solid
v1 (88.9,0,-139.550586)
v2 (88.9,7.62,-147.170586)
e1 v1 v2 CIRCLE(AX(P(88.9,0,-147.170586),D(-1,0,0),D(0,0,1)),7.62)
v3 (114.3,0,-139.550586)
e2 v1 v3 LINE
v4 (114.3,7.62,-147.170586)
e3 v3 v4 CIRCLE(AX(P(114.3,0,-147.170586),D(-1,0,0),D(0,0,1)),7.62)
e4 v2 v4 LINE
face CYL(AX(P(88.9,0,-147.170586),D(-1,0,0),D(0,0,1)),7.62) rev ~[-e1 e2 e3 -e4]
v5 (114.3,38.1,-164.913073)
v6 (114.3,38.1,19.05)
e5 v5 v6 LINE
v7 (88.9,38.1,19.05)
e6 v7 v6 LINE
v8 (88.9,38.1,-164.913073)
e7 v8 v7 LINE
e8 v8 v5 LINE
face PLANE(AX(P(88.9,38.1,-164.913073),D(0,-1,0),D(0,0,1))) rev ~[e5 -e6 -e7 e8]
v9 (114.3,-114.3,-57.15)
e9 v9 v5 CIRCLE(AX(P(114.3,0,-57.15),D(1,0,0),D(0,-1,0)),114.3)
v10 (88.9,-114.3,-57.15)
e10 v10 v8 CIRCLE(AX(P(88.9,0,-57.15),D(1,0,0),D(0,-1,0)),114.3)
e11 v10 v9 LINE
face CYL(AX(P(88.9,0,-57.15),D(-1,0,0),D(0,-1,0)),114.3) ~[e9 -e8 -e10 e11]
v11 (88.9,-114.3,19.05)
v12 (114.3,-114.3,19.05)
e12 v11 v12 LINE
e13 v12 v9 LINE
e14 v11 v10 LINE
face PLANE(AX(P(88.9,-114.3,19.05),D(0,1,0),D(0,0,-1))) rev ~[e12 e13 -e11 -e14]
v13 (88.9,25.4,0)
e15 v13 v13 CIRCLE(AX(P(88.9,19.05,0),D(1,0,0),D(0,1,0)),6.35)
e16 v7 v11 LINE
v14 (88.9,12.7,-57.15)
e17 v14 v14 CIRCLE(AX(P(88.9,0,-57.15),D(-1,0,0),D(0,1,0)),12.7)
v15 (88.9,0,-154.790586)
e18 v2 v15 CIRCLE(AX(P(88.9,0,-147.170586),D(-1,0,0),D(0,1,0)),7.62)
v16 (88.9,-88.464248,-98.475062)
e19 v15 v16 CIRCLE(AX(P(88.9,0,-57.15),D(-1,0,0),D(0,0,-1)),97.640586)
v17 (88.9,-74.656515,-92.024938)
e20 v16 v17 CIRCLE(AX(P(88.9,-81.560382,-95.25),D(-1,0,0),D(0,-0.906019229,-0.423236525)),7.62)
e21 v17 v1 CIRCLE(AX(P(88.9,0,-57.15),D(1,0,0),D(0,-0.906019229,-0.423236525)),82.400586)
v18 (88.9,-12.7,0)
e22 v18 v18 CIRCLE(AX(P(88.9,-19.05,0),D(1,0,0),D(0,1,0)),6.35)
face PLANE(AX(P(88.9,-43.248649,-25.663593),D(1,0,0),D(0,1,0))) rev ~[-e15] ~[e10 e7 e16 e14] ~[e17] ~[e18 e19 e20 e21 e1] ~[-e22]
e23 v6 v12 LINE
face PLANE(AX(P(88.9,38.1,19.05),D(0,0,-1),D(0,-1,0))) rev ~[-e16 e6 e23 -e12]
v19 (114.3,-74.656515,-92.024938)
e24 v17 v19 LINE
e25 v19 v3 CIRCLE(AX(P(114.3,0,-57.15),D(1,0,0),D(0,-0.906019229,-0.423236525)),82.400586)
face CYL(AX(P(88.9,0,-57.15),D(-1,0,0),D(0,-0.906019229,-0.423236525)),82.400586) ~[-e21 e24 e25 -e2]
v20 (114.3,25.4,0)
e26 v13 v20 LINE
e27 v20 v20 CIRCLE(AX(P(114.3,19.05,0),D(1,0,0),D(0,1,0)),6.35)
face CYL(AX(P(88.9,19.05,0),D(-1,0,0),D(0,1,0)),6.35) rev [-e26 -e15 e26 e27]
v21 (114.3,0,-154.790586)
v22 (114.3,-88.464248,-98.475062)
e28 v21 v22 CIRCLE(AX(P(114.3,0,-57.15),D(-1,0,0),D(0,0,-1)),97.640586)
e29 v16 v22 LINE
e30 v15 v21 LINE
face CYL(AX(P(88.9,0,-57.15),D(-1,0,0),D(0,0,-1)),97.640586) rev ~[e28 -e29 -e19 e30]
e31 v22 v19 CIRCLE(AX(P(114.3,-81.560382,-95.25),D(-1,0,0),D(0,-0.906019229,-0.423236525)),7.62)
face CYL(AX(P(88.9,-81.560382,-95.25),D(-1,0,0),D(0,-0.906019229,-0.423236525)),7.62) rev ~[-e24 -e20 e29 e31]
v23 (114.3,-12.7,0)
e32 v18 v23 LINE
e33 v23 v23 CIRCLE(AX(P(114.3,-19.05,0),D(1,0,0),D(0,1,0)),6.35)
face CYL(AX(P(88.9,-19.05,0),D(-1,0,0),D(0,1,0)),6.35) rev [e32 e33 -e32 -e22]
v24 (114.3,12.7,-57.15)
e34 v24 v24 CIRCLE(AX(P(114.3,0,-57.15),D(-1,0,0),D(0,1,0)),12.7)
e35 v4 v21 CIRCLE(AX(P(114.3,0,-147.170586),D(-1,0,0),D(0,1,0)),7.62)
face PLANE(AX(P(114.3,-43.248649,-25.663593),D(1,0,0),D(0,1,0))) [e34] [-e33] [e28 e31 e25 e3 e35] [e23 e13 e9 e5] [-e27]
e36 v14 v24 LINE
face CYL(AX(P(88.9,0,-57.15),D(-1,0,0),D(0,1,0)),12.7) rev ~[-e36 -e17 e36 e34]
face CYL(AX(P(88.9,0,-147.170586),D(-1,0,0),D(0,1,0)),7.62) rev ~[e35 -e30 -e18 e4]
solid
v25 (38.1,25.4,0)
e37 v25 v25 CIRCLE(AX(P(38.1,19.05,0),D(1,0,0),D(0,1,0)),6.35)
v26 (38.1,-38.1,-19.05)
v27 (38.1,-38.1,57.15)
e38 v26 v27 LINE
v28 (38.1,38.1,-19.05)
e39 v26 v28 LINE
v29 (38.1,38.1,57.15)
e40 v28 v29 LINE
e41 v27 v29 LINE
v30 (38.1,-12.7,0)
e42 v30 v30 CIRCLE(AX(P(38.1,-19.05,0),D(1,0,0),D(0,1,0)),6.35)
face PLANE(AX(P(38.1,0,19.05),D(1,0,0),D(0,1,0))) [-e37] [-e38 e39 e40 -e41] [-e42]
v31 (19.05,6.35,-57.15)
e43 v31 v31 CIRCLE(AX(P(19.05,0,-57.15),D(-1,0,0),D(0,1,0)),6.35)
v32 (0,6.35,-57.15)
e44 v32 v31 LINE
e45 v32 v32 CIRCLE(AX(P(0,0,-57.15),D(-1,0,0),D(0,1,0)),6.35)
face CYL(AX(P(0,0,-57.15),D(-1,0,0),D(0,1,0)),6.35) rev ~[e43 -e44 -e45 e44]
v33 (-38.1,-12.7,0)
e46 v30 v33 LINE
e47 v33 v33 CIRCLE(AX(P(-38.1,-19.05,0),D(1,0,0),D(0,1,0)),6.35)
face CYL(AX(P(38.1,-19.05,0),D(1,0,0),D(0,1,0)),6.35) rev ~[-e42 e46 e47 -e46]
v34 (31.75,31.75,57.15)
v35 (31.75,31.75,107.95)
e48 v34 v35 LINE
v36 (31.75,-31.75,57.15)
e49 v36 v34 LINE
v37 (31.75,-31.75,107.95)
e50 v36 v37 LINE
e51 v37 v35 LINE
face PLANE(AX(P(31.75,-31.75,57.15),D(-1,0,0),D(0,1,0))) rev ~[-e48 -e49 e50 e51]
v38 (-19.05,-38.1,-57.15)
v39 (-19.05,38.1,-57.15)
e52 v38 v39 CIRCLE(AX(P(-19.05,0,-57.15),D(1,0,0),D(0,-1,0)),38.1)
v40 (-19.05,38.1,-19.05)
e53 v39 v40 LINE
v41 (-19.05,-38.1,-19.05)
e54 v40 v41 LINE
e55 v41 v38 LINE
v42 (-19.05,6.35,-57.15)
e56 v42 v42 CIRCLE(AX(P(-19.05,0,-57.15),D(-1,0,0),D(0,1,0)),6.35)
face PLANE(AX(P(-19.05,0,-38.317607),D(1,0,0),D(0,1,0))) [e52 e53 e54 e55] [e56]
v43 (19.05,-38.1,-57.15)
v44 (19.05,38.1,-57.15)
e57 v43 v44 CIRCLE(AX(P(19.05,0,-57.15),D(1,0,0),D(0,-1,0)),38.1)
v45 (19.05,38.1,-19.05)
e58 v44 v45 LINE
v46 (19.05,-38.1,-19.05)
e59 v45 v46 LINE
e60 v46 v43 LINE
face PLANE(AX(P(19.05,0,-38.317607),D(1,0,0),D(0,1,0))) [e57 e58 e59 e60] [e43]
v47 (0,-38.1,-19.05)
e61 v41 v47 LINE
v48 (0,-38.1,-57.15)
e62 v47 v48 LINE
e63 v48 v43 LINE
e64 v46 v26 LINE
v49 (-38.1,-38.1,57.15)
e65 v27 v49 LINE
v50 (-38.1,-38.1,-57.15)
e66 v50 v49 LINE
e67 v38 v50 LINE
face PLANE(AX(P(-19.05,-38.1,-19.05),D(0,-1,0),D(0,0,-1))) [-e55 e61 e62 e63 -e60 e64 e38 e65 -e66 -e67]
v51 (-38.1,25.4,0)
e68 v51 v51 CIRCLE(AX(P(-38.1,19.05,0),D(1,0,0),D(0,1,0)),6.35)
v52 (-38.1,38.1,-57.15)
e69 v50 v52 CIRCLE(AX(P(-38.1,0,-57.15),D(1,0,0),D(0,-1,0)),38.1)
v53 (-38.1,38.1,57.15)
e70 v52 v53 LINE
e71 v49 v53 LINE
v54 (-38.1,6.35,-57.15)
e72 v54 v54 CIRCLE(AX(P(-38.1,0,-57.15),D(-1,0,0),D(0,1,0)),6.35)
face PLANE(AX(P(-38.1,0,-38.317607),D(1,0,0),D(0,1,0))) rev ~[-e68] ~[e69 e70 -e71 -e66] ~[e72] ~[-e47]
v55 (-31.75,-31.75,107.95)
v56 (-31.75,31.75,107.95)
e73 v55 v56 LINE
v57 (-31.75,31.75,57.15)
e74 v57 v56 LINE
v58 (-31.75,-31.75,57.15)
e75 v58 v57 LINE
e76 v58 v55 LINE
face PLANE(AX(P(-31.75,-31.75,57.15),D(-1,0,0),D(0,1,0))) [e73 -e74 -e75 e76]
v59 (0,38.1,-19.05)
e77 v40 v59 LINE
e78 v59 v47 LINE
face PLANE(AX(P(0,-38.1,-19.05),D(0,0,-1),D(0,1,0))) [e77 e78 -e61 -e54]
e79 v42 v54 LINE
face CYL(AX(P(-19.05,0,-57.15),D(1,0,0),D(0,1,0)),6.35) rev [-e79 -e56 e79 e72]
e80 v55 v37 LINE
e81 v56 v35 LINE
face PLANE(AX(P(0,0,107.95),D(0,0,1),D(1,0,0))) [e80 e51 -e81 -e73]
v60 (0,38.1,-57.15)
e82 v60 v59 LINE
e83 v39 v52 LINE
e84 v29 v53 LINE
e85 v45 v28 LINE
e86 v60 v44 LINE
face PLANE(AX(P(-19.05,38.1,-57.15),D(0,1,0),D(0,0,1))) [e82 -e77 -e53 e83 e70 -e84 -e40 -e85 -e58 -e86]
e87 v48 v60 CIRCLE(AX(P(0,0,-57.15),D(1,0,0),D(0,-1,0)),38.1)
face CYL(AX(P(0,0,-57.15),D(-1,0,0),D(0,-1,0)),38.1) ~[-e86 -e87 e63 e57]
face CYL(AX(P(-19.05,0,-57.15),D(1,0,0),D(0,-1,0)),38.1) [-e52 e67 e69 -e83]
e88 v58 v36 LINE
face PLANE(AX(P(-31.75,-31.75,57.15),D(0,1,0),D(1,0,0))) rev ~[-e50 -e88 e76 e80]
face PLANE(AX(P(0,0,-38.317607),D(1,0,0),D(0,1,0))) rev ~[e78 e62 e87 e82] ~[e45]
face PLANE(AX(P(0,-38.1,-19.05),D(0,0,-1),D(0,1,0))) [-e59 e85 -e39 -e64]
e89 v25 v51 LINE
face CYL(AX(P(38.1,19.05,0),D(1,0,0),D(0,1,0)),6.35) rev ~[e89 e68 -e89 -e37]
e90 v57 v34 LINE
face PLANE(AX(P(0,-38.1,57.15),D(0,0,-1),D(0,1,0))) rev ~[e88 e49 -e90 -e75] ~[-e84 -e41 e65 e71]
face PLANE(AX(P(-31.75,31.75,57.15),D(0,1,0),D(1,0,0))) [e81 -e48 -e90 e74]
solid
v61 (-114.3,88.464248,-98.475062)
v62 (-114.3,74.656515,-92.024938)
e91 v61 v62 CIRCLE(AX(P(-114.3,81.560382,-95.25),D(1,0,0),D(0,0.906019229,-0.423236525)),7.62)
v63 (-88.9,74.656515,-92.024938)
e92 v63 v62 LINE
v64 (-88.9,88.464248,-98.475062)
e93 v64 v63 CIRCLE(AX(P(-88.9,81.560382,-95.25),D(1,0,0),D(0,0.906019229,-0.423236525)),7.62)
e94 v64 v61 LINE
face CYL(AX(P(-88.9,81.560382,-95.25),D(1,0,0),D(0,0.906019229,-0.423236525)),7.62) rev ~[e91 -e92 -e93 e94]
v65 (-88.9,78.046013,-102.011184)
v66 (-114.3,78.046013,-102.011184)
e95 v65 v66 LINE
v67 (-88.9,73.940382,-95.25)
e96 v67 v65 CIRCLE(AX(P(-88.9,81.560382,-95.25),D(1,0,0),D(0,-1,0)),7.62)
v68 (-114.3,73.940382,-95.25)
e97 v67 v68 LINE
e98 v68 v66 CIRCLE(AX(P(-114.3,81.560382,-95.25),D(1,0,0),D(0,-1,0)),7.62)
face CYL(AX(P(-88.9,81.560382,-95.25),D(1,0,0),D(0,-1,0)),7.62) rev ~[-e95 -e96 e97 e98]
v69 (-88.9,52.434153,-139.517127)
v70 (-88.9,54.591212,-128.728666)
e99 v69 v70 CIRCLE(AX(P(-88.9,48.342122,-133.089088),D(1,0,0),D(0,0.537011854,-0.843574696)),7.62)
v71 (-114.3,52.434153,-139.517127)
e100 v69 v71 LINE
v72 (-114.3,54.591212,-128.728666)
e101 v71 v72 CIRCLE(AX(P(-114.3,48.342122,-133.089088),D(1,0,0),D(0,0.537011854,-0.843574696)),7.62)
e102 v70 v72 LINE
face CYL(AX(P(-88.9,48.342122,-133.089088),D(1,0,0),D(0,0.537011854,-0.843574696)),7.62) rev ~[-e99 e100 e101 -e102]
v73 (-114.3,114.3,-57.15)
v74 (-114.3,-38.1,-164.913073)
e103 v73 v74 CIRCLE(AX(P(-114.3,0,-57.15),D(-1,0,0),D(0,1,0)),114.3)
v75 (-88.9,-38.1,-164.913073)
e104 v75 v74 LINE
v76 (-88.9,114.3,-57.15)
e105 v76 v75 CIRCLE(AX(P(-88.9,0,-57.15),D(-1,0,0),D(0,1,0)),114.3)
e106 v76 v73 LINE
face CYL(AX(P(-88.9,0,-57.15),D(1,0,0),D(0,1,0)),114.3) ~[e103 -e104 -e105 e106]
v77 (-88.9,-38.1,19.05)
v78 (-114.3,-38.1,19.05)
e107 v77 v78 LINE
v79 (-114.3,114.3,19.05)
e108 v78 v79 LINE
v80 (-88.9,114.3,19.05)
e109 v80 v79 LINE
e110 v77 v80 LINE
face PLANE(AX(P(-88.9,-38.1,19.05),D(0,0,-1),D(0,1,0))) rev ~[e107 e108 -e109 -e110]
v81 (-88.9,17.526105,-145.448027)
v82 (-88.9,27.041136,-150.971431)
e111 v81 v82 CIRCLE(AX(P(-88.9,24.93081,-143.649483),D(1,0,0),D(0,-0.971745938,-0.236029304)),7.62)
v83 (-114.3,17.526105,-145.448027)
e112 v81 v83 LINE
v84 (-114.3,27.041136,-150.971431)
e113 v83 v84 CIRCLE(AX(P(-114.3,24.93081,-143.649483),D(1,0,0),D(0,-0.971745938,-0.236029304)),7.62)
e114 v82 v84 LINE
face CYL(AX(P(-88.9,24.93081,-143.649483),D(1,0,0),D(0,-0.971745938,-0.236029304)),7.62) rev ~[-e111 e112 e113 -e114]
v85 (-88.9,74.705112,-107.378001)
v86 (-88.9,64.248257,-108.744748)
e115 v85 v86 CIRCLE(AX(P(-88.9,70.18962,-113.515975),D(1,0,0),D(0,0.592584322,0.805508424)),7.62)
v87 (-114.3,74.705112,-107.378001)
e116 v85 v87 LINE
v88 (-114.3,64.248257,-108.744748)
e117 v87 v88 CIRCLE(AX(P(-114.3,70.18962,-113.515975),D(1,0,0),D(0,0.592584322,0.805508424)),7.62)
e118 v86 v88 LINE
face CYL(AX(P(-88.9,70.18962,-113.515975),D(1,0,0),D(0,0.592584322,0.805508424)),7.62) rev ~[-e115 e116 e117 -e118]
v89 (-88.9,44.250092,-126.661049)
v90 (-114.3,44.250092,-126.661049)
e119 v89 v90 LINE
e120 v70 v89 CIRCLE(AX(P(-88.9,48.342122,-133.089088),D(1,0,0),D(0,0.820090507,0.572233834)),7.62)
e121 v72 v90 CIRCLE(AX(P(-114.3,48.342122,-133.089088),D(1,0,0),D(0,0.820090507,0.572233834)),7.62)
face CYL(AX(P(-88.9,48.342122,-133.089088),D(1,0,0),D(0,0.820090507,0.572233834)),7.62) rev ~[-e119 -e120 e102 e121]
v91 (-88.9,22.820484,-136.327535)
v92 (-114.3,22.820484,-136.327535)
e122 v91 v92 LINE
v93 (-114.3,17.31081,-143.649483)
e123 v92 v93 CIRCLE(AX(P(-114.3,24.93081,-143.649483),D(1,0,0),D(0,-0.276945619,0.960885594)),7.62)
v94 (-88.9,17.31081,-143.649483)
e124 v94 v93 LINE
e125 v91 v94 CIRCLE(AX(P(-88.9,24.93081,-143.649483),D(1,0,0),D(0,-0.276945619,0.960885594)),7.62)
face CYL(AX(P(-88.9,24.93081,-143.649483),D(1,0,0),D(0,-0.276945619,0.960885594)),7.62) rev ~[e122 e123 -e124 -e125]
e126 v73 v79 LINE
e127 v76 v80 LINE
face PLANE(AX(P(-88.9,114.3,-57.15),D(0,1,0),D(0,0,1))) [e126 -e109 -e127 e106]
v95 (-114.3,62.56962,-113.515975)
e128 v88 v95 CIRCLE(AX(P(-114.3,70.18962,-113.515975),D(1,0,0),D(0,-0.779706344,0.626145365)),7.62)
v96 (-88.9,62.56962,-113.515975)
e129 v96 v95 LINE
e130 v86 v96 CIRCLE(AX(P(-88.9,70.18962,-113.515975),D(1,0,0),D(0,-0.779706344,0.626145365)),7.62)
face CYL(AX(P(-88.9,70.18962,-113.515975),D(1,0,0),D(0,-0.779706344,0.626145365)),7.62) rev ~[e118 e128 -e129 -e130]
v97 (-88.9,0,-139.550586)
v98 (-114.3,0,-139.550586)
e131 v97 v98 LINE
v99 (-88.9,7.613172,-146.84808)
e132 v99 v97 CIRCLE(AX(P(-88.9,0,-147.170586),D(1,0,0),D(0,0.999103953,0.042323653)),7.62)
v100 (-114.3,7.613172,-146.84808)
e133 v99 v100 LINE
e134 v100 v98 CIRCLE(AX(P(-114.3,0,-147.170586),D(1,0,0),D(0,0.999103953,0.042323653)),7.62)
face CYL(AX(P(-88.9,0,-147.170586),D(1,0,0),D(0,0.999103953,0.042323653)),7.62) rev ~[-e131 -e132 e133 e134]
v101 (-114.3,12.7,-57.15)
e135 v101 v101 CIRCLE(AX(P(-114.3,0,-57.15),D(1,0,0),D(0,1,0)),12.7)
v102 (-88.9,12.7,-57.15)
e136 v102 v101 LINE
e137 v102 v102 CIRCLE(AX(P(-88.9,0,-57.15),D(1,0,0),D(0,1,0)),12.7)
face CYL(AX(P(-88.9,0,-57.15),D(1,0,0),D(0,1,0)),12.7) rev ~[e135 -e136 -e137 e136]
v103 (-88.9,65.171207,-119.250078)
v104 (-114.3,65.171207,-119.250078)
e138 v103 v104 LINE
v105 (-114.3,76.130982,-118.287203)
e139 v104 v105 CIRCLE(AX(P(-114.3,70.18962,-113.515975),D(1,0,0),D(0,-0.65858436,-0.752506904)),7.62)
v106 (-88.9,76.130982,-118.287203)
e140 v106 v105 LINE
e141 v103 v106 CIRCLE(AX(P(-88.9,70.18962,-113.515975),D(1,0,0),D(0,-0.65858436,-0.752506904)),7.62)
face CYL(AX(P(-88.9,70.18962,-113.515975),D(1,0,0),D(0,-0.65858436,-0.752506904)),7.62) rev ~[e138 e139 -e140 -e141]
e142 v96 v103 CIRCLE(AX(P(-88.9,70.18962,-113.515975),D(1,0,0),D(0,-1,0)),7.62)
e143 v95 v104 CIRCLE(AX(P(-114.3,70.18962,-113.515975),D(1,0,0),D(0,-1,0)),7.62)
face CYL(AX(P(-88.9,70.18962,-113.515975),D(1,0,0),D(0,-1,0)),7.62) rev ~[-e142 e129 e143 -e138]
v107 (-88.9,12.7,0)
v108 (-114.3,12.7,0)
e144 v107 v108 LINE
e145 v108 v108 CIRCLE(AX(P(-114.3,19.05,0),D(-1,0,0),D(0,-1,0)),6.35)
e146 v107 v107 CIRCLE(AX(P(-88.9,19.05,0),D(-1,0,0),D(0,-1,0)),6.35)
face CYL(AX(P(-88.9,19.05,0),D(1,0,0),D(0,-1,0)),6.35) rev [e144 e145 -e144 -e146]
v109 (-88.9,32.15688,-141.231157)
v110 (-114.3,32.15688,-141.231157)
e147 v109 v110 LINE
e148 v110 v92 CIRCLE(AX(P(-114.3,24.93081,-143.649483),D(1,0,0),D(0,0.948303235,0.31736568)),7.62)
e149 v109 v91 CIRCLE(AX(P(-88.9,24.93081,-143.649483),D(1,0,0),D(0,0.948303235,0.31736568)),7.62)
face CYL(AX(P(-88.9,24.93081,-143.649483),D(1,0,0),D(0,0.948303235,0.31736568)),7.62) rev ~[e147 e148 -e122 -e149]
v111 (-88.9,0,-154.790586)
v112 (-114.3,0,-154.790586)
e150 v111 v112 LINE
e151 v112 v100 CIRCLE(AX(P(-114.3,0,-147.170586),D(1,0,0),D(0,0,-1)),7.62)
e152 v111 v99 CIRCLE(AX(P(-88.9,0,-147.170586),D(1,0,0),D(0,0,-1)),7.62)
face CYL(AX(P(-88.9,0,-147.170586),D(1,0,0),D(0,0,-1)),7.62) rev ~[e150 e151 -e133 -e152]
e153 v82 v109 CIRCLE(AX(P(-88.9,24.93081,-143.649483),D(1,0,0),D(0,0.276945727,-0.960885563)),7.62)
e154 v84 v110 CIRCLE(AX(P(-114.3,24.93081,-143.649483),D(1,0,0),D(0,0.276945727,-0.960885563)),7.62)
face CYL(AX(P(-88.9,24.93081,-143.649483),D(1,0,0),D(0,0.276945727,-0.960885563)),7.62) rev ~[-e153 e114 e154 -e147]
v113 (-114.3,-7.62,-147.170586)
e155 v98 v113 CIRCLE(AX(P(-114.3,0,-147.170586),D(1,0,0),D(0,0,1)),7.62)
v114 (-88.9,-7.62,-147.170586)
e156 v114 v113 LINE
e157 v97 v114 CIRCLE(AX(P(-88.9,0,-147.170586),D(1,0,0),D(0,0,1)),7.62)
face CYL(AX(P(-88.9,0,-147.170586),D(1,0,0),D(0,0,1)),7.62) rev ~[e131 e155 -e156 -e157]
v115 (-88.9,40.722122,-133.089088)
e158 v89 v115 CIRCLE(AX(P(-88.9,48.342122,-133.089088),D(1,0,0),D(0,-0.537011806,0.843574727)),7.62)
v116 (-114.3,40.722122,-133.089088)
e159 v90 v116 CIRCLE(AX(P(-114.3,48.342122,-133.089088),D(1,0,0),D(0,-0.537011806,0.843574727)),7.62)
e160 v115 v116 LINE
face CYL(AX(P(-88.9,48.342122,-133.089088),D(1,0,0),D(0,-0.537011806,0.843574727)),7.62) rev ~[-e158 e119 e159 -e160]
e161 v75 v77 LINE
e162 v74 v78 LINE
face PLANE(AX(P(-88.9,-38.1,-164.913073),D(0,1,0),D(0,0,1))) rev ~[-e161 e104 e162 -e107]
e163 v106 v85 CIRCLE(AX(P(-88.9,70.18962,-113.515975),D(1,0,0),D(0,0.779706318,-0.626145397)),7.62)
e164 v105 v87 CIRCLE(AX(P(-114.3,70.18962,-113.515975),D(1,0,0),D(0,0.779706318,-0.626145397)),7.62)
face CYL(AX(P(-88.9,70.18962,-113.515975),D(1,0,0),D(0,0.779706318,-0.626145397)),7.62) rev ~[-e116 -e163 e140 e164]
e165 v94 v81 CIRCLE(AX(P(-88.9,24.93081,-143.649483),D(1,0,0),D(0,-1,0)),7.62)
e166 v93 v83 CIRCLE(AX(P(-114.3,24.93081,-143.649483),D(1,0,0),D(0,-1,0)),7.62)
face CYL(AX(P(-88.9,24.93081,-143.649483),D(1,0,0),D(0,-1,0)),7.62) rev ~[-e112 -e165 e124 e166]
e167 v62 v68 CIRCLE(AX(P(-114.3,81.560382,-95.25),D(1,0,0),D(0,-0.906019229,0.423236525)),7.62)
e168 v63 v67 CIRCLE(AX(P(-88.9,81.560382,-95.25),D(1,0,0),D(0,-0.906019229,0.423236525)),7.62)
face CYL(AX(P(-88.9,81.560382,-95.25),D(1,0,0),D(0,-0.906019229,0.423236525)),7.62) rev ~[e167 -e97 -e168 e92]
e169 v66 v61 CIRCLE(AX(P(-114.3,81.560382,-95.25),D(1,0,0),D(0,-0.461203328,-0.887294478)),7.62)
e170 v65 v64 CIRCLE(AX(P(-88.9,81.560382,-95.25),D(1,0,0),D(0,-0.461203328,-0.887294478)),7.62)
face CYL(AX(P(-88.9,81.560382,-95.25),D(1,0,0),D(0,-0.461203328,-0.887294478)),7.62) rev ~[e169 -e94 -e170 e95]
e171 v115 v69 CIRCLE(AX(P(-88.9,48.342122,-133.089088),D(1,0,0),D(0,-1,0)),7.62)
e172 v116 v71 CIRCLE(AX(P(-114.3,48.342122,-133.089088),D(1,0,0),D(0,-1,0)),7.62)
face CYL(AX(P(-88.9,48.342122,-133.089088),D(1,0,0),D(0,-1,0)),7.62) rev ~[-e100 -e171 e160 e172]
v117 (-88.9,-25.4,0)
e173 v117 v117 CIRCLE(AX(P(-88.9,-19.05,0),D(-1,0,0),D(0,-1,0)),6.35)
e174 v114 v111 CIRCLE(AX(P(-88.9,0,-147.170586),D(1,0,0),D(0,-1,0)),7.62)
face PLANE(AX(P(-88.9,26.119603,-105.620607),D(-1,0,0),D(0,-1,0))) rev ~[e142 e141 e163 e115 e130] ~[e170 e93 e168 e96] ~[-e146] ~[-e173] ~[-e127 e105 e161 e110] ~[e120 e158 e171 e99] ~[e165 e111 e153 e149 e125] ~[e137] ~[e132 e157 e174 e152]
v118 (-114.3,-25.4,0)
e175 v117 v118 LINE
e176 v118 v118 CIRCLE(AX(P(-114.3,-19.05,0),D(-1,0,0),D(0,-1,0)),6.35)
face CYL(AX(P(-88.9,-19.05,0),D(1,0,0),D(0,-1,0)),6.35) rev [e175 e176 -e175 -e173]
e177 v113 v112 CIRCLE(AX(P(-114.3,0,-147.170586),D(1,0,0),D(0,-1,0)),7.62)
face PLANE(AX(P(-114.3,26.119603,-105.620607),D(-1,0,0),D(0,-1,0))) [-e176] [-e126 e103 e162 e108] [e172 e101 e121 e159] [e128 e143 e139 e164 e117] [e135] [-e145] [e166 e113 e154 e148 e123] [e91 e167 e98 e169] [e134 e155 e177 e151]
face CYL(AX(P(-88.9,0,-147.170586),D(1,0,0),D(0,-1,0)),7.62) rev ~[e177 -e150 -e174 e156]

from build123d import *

# Parameters (mm, degrees)
F0_W      = 76.2
F0_H      = 76.2
F1_DEPTH  = 38.1
F2_DEPTH  = 19.05
F3_START  = -19.05
F3_DEPTH  = 19.05
F4_W      = 63.5
F4_H      = 63.5
F5_DEPTH  = 50.8
F7_START  = 50.8
F6_W      = 76.2
F6_H      = 38.1
F6_R      = 6.35
F7_DEPTH  = 25.4
F8_DEPTH  = 76.2
F10_START = 50.8
F9_W      = 76.2
F9_H      = 76.2
F9_R      = 6.35
F10_DEPTH = 25.4


with BuildPart() as f1:
    # F0 (on Right) → F1 (new body, symmetric)
    with BuildSketch(Plane.YZ):
        with Locations((0, 19.05)):
            Rectangle(F0_W, F0_H)
    extrude(amount=F1_DEPTH, both=True)

    # F0 (on Right) → F2 (join)
    with BuildSketch(Plane.YZ):
        with BuildLine():
            Line((6.35, -57.15), (38.1, -57.15))
            Line((38.1, -57.15), (38.1, -19.05))
            Line((38.1, -19.05), (-38.1, -19.05))
            Line((-38.1, -19.05), (-38.1, -57.15))
            Line((-38.1, -57.15), (-6.35, -57.15))
            ThreePointArc((-6.35, -57.15), (0, -50.8), (6.35, -57.15))
        make_face()
        with BuildLine():
            ThreePointArc((-38.1, -57.15), (0, -95.25), (38.1, -57.15))
            Line((38.1, -57.15), (6.35, -57.15))
            ThreePointArc((6.35, -57.15), (0, -63.5), (-6.35, -57.15))
            Line((-6.35, -57.15), (-38.1, -57.15))
        make_face()
    extrude(amount=F2_DEPTH)

    # F0 (on Right) → F3 (join)
    with BuildSketch(Plane.YZ.offset(F3_START)):
        with BuildLine():
            Line((6.35, -57.15), (38.1, -57.15))
            Line((38.1, -57.15), (38.1, -19.05))
            Line((38.1, -19.05), (-38.1, -19.05))
            Line((-38.1, -19.05), (-38.1, -57.15))
            Line((-38.1, -57.15), (-6.35, -57.15))
            ThreePointArc((-6.35, -57.15), (0, -50.8), (6.35, -57.15))
        make_face()
        with BuildLine():
            ThreePointArc((-38.1, -57.15), (0, -95.25), (38.1, -57.15))
            Line((38.1, -57.15), (6.35, -57.15))
            ThreePointArc((6.35, -57.15), (0, -63.5), (-6.35, -57.15))
            Line((-6.35, -57.15), (-38.1, -57.15))
        make_face()
    extrude(amount=-F3_DEPTH)

    # F4 (on face) → F5 (join)
    with BuildSketch(Plane.XY.offset(57.15)):
        Rectangle(F4_W, F4_H)
    extrude(amount=F5_DEPTH)

    # F6 (on face) → F8 (cut)
    with BuildSketch(Plane.YZ.offset(38.1)):
        with Locations((19.05, 0)):
            Circle(F6_R)
        with Locations((-19.05, 0)):
            Circle(F6_R)
    extrude(amount=-F8_DEPTH, mode=Mode.SUBTRACT)


with BuildPart() as f7:
    # F6 (on face) → F7 (new body)
    with BuildSketch(Plane.YZ.offset(38.1).offset(F7_START)):
        with BuildLine():
            Line((-38.1, -19.05), (-38.1, 19.05))
            Line((-38.1, 19.05), (-114.3, 19.05))
            Line((-114.3, 19.05), (-114.3, -57.15))
            Line((-114.3, -57.15), (-12.7, -57.15))
            ThreePointArc((-12.7, -57.15), (0, -44.45), (12.7, -57.15))
            Line((12.7, -57.15), (38.1, -57.15))
            Line((38.1, -57.15), (38.1, -19.05))
            Line((38.1, -19.05), (-38.1, -19.05))
        make_face()
        Rectangle(F6_W, F6_H)
        with Locations((-19.05, 0)):
            Circle(F6_R, mode=Mode.SUBTRACT)
        with Locations((19.05, 0)):
            Circle(F6_R, mode=Mode.SUBTRACT)
        with BuildLine():
            Line((38.1, -164.9130734528), (38.1, -57.15))
            Line((38.1, -57.15), (12.7, -57.15))
            ThreePointArc((12.7, -57.15), (0, -69.85), (-12.7, -57.15))
            Line((-12.7, -57.15), (-114.3, -57.15))
            ThreePointArc((-114.3, -57.15), (-65.9911357684, -150.4755592), (38.1, -164.9130734528))
        make_face()
        with BuildLine():
            ThreePointArc((0, -139.5505859333), (5.3881536726, -141.7824322606), (7.62, -147.1705859333))
            ThreePointArc((7.62, -147.1705859333), (5.3881536726, -152.5587396059), (0, -154.7905859333))
            ThreePointArc((0, -154.7905859333), (-52.4341526223, -139.5171273032), (-88.4642484023, -98.4750623231))
            ThreePointArc((-88.4642484023, -98.4750623231), (-84.7854441992, -88.3461334738), (-74.6565153498, -92.0249376769))
            ThreePointArc((-74.6565153498, -92.0249376769), (-44.2500918823, -126.6610489818), (0, -139.5505859333))
        make_face(mode=Mode.SUBTRACT)
    extrude(amount=F7_DEPTH)


with BuildPart() as f10:
    # F9 (on face) → F10 (new body)
    with BuildSketch(Plane(origin=(-38.1, 0, 0), x_dir=(0, -1, 0), z_dir=(-1, 0, 0)).offset(F10_START)):
        with BuildLine():
            Line((38.1, -164.9130734528), (38.1, -57.15))
            ThreePointArc((38.1, -57.15), (0, -95.25), (-38.1, -57.15))
            Line((-38.1, -57.15), (-114.3, -57.15))
            ThreePointArc((-114.3, -57.15), (-65.9911357684, -150.4755592), (38.1, -164.9130734528))
        make_face()
        with BuildLine():
            ThreePointArc((0, -139.5505859333), (5.3881536726, -141.7824322606), (7.62, -147.1705859333))
            ThreePointArc((7.62, -147.1705859333), (5.3881536726, -152.5587396059), (0, -154.7905859333))
            ThreePointArc((0, -154.7905859333), (-13.6547517033, -153.8310828307), (-27.0411359752, -150.971431382))
            ThreePointArc((-27.0411359752, -150.971431382), (-40.148233376, -146.1545132461), (-52.4341525835, -139.5171273279))
            ThreePointArc((-52.4341525835, -139.5171273279), (-65.1530955384, -129.8738486547), (-76.1309817391, -118.2872034103))
            ThreePointArc((-76.1309817391, -118.2872034103), (-82.8916623065, -108.7509335327), (-88.4642484023, -98.4750623231))
            ThreePointArc((-88.4642484023, -98.4750623231), (-84.7854441992, -88.3461334738), (-74.6565153498, -92.0249376769))
            ThreePointArc((-74.6565153498, -92.0249376769), (-69.9537130966, -100.6969239573), (-64.2482572577, -108.7447478092))
            ThreePointArc((-64.2482572577, -108.7447478092), (-54.9838287437, -118.5229186109), (-44.2500922915, -126.6610487213))
            ThreePointArc((-44.2500922915, -126.6610487213), (-33.8817914002, -132.2624541847), (-22.8204839226, -136.3275351706))
            ThreePointArc((-22.8204839226, -136.3275351706), (-11.5234819247, -138.7408446241), (0, -139.5505859333))
        make_face(mode=Mode.SUBTRACT)
        with BuildLine():
            ThreePointArc((-88.4642484023, -98.4750623231), (-82.8916623065, -108.7509335327), (-76.1309817391, -118.2872034103))
            ThreePointArc((-76.1309817391, -118.2872034103), (-77.745354181, -112.5284154235), (-74.7051121262, -107.3780012939))
            ThreePointArc((-74.7051121262, -107.3780012939), (-76.4226877427, -104.7239286789), (-78.0460125131, -102.0111839186))
            ThreePointArc((-78.0460125131, -102.0111839186), (-84.0095065645, -102.4656904216), (-88.4642484023, -98.4750623231))
        make_face()
        with BuildLine():
            ThreePointArc((-74.7051121262, -107.3780012939), (-69.2020593767, -105.9602409234), (-64.2482572577, -108.7447478092))
            ThreePointArc((-64.2482572577, -108.7447478092), (-69.9537130966, -100.6969239573), (-74.6565153498, -92.0249376769))
            ThreePointArc((-74.6565153498, -92.0249376769), (-74.1215693724, -93.5981923432), (-73.9403818761, -95.25))
            ThreePointArc((-73.9403818761, -95.25), (-75.0471685928, -99.2050540739), (-78.0460125131, -102.0111839186))
            ThreePointArc((-78.0460125131, -102.0111839186), (-76.4226877427, -104.7239286789), (-74.7051121262, -107.3780012939))
        make_face()
        with BuildLine():
            ThreePointArc((-76.1309817391, -118.2872034103), (-65.1530955384, -129.8738486547), (-52.4341525835, -139.5171273279))
            ThreePointArc((-52.4341525835, -139.5171273279), (-55.8142312826, -134.5830716226), (-54.5912119147, -128.7286663291))
            ThreePointArc((-54.5912119147, -128.7286663291), (-60.0684621173, -124.1983836541), (-65.171206772, -119.250078097))
            ThreePointArc((-65.171206772, -119.250078097), (-70.856508475, -121.1067369272), (-76.1309817391, -118.2872034103))
        make_face()
        with BuildLine():
            ThreePointArc((-54.5912119147, -128.7286663291), (-49.8361059477, -125.6169791552), (-44.2500922915, -126.6610487213))
            ThreePointArc((-44.2500922915, -126.6610487213), (-54.9838287437, -118.5229186109), (-64.2482572577, -108.7447478092))
            ThreePointArc((-64.2482572577, -108.7447478092), (-63.001518977, -110.9870212595), (-62.569619596, -113.5159754882))
            ThreePointArc((-62.569619596, -113.5159754882), (-63.250429956, -116.664315867), (-65.171206772, -119.250078097))
            ThreePointArc((-65.171206772, -119.250078097), (-60.0684621173, -124.1983836541), (-54.5912119147, -128.7286663291))
        make_face()
        with BuildLine():
            ThreePointArc((-52.4341525835, -139.5171273279), (-40.148233376, -146.1545132461), (-27.0411359752, -150.971431382))
            ThreePointArc((-27.0411359752, -150.971431382), (-31.6769428237, -147.1926579159), (-32.156880188, -141.2311569161))
            ThreePointArc((-32.156880188, -141.2311569161), (-37.015012093, -139.2084838485), (-41.7466532468, -136.9053937641))
            ThreePointArc((-41.7466532468, -136.9053937641), (-46.5332305056, -140.4912709725), (-52.4341525835, -139.5171273279))
        make_face()
        with BuildLine():
            ThreePointArc((-32.156880188, -141.2311569161), (-28.4739844377, -136.9033503077), (-22.8204839226, -136.3275351706))
            ThreePointArc((-22.8204839226, -136.3275351706), (-33.8817914002, -132.2624541847), (-44.2500922915, -126.6610487213))
            ThreePointArc((-44.2500922915, -126.6610487213), (-41.6620897561, -129.4228140325), (-40.7221222523, -133.0890881425))
            ThreePointArc((-40.7221222523, -133.0890881425), (-40.9827108009, -135.0648065154), (-41.7466532468, -136.9053937641))
            ThreePointArc((-41.7466532468, -136.9053937641), (-37.015012093, -139.2084838485), (-32.156880188, -141.2311569161))
        make_face()
        with BuildLine():
            ThreePointArc((-27.0411359752, -150.971431382), (-13.6547517033, -153.8310828307), (0, -154.7905859333))
            ThreePointArc((0, -154.7905859333), (-5.5009952504, -152.4434837376), (-7.6131721201, -146.8480797009))
            ThreePointArc((-7.6131721201, -146.8480797009), (-12.5891166022, -146.2859637573), (-17.5261054923, -145.4480266939))
            ThreePointArc((-17.5261054923, -145.4480266939), (-21.1052888672, -150.2396117394), (-27.0411359752, -150.971431382))
        make_face()
        with BuildLine():
            ThreePointArc((-7.6131721201, -146.8480797009), (-5.2728978043, -141.6695906828), (0, -139.5505859333))
            ThreePointArc((0, -139.5505859333), (-11.5234819247, -138.7408446241), (-22.8204839226, -136.3275351706))
            ThreePointArc((-22.8204839226, -136.3275351706), (-18.8420871271, -139.0677959975), (-17.3108095377, -143.6494833948))
            ThreePointArc((-17.3108095377, -143.6494833948), (-17.3648249743, -144.5551751673), (-17.5261054923, -145.4480266939))
            ThreePointArc((-17.5261054923, -145.4480266939), (-12.5891166022, -146.2859637573), (-7.6131721201, -146.8480797009))
        make_face()
        with BuildLine():
            ThreePointArc((-38.1, -57.15), (0, -95.25), (38.1, -57.15))
            Line((38.1, -57.15), (12.7, -57.15))
            ThreePointArc((12.7, -57.15), (0, -69.85), (-12.7, -57.15))
            Line((-12.7, -57.15), (-38.1, -57.15))
        make_face()
        with Locations((-76.2, -19.05)):
            Rectangle(F9_W, F9_H)
        with BuildLine():
            Line((38.1, -57.15), (38.1, 19.05))
            Line((38.1, 19.05), (-38.1, 19.05))
            Line((-38.1, 19.05), (-38.1, -57.15))
            Line((-38.1, -57.15), (-12.7, -57.15))
            ThreePointArc((-12.7, -57.15), (0, -44.45), (12.7, -57.15))
            Line((12.7, -57.15), (38.1, -57.15))
        make_face()
        with Locations((-19.05, 0)):
            Circle(F9_R, mode=Mode.SUBTRACT)
        with Locations((19.05, 0)):
            Circle(F9_R, mode=Mode.SUBTRACT)
    extrude(amount=F10_DEPTH)


solid = Compound([f1.part, f7.part, f10.part])
